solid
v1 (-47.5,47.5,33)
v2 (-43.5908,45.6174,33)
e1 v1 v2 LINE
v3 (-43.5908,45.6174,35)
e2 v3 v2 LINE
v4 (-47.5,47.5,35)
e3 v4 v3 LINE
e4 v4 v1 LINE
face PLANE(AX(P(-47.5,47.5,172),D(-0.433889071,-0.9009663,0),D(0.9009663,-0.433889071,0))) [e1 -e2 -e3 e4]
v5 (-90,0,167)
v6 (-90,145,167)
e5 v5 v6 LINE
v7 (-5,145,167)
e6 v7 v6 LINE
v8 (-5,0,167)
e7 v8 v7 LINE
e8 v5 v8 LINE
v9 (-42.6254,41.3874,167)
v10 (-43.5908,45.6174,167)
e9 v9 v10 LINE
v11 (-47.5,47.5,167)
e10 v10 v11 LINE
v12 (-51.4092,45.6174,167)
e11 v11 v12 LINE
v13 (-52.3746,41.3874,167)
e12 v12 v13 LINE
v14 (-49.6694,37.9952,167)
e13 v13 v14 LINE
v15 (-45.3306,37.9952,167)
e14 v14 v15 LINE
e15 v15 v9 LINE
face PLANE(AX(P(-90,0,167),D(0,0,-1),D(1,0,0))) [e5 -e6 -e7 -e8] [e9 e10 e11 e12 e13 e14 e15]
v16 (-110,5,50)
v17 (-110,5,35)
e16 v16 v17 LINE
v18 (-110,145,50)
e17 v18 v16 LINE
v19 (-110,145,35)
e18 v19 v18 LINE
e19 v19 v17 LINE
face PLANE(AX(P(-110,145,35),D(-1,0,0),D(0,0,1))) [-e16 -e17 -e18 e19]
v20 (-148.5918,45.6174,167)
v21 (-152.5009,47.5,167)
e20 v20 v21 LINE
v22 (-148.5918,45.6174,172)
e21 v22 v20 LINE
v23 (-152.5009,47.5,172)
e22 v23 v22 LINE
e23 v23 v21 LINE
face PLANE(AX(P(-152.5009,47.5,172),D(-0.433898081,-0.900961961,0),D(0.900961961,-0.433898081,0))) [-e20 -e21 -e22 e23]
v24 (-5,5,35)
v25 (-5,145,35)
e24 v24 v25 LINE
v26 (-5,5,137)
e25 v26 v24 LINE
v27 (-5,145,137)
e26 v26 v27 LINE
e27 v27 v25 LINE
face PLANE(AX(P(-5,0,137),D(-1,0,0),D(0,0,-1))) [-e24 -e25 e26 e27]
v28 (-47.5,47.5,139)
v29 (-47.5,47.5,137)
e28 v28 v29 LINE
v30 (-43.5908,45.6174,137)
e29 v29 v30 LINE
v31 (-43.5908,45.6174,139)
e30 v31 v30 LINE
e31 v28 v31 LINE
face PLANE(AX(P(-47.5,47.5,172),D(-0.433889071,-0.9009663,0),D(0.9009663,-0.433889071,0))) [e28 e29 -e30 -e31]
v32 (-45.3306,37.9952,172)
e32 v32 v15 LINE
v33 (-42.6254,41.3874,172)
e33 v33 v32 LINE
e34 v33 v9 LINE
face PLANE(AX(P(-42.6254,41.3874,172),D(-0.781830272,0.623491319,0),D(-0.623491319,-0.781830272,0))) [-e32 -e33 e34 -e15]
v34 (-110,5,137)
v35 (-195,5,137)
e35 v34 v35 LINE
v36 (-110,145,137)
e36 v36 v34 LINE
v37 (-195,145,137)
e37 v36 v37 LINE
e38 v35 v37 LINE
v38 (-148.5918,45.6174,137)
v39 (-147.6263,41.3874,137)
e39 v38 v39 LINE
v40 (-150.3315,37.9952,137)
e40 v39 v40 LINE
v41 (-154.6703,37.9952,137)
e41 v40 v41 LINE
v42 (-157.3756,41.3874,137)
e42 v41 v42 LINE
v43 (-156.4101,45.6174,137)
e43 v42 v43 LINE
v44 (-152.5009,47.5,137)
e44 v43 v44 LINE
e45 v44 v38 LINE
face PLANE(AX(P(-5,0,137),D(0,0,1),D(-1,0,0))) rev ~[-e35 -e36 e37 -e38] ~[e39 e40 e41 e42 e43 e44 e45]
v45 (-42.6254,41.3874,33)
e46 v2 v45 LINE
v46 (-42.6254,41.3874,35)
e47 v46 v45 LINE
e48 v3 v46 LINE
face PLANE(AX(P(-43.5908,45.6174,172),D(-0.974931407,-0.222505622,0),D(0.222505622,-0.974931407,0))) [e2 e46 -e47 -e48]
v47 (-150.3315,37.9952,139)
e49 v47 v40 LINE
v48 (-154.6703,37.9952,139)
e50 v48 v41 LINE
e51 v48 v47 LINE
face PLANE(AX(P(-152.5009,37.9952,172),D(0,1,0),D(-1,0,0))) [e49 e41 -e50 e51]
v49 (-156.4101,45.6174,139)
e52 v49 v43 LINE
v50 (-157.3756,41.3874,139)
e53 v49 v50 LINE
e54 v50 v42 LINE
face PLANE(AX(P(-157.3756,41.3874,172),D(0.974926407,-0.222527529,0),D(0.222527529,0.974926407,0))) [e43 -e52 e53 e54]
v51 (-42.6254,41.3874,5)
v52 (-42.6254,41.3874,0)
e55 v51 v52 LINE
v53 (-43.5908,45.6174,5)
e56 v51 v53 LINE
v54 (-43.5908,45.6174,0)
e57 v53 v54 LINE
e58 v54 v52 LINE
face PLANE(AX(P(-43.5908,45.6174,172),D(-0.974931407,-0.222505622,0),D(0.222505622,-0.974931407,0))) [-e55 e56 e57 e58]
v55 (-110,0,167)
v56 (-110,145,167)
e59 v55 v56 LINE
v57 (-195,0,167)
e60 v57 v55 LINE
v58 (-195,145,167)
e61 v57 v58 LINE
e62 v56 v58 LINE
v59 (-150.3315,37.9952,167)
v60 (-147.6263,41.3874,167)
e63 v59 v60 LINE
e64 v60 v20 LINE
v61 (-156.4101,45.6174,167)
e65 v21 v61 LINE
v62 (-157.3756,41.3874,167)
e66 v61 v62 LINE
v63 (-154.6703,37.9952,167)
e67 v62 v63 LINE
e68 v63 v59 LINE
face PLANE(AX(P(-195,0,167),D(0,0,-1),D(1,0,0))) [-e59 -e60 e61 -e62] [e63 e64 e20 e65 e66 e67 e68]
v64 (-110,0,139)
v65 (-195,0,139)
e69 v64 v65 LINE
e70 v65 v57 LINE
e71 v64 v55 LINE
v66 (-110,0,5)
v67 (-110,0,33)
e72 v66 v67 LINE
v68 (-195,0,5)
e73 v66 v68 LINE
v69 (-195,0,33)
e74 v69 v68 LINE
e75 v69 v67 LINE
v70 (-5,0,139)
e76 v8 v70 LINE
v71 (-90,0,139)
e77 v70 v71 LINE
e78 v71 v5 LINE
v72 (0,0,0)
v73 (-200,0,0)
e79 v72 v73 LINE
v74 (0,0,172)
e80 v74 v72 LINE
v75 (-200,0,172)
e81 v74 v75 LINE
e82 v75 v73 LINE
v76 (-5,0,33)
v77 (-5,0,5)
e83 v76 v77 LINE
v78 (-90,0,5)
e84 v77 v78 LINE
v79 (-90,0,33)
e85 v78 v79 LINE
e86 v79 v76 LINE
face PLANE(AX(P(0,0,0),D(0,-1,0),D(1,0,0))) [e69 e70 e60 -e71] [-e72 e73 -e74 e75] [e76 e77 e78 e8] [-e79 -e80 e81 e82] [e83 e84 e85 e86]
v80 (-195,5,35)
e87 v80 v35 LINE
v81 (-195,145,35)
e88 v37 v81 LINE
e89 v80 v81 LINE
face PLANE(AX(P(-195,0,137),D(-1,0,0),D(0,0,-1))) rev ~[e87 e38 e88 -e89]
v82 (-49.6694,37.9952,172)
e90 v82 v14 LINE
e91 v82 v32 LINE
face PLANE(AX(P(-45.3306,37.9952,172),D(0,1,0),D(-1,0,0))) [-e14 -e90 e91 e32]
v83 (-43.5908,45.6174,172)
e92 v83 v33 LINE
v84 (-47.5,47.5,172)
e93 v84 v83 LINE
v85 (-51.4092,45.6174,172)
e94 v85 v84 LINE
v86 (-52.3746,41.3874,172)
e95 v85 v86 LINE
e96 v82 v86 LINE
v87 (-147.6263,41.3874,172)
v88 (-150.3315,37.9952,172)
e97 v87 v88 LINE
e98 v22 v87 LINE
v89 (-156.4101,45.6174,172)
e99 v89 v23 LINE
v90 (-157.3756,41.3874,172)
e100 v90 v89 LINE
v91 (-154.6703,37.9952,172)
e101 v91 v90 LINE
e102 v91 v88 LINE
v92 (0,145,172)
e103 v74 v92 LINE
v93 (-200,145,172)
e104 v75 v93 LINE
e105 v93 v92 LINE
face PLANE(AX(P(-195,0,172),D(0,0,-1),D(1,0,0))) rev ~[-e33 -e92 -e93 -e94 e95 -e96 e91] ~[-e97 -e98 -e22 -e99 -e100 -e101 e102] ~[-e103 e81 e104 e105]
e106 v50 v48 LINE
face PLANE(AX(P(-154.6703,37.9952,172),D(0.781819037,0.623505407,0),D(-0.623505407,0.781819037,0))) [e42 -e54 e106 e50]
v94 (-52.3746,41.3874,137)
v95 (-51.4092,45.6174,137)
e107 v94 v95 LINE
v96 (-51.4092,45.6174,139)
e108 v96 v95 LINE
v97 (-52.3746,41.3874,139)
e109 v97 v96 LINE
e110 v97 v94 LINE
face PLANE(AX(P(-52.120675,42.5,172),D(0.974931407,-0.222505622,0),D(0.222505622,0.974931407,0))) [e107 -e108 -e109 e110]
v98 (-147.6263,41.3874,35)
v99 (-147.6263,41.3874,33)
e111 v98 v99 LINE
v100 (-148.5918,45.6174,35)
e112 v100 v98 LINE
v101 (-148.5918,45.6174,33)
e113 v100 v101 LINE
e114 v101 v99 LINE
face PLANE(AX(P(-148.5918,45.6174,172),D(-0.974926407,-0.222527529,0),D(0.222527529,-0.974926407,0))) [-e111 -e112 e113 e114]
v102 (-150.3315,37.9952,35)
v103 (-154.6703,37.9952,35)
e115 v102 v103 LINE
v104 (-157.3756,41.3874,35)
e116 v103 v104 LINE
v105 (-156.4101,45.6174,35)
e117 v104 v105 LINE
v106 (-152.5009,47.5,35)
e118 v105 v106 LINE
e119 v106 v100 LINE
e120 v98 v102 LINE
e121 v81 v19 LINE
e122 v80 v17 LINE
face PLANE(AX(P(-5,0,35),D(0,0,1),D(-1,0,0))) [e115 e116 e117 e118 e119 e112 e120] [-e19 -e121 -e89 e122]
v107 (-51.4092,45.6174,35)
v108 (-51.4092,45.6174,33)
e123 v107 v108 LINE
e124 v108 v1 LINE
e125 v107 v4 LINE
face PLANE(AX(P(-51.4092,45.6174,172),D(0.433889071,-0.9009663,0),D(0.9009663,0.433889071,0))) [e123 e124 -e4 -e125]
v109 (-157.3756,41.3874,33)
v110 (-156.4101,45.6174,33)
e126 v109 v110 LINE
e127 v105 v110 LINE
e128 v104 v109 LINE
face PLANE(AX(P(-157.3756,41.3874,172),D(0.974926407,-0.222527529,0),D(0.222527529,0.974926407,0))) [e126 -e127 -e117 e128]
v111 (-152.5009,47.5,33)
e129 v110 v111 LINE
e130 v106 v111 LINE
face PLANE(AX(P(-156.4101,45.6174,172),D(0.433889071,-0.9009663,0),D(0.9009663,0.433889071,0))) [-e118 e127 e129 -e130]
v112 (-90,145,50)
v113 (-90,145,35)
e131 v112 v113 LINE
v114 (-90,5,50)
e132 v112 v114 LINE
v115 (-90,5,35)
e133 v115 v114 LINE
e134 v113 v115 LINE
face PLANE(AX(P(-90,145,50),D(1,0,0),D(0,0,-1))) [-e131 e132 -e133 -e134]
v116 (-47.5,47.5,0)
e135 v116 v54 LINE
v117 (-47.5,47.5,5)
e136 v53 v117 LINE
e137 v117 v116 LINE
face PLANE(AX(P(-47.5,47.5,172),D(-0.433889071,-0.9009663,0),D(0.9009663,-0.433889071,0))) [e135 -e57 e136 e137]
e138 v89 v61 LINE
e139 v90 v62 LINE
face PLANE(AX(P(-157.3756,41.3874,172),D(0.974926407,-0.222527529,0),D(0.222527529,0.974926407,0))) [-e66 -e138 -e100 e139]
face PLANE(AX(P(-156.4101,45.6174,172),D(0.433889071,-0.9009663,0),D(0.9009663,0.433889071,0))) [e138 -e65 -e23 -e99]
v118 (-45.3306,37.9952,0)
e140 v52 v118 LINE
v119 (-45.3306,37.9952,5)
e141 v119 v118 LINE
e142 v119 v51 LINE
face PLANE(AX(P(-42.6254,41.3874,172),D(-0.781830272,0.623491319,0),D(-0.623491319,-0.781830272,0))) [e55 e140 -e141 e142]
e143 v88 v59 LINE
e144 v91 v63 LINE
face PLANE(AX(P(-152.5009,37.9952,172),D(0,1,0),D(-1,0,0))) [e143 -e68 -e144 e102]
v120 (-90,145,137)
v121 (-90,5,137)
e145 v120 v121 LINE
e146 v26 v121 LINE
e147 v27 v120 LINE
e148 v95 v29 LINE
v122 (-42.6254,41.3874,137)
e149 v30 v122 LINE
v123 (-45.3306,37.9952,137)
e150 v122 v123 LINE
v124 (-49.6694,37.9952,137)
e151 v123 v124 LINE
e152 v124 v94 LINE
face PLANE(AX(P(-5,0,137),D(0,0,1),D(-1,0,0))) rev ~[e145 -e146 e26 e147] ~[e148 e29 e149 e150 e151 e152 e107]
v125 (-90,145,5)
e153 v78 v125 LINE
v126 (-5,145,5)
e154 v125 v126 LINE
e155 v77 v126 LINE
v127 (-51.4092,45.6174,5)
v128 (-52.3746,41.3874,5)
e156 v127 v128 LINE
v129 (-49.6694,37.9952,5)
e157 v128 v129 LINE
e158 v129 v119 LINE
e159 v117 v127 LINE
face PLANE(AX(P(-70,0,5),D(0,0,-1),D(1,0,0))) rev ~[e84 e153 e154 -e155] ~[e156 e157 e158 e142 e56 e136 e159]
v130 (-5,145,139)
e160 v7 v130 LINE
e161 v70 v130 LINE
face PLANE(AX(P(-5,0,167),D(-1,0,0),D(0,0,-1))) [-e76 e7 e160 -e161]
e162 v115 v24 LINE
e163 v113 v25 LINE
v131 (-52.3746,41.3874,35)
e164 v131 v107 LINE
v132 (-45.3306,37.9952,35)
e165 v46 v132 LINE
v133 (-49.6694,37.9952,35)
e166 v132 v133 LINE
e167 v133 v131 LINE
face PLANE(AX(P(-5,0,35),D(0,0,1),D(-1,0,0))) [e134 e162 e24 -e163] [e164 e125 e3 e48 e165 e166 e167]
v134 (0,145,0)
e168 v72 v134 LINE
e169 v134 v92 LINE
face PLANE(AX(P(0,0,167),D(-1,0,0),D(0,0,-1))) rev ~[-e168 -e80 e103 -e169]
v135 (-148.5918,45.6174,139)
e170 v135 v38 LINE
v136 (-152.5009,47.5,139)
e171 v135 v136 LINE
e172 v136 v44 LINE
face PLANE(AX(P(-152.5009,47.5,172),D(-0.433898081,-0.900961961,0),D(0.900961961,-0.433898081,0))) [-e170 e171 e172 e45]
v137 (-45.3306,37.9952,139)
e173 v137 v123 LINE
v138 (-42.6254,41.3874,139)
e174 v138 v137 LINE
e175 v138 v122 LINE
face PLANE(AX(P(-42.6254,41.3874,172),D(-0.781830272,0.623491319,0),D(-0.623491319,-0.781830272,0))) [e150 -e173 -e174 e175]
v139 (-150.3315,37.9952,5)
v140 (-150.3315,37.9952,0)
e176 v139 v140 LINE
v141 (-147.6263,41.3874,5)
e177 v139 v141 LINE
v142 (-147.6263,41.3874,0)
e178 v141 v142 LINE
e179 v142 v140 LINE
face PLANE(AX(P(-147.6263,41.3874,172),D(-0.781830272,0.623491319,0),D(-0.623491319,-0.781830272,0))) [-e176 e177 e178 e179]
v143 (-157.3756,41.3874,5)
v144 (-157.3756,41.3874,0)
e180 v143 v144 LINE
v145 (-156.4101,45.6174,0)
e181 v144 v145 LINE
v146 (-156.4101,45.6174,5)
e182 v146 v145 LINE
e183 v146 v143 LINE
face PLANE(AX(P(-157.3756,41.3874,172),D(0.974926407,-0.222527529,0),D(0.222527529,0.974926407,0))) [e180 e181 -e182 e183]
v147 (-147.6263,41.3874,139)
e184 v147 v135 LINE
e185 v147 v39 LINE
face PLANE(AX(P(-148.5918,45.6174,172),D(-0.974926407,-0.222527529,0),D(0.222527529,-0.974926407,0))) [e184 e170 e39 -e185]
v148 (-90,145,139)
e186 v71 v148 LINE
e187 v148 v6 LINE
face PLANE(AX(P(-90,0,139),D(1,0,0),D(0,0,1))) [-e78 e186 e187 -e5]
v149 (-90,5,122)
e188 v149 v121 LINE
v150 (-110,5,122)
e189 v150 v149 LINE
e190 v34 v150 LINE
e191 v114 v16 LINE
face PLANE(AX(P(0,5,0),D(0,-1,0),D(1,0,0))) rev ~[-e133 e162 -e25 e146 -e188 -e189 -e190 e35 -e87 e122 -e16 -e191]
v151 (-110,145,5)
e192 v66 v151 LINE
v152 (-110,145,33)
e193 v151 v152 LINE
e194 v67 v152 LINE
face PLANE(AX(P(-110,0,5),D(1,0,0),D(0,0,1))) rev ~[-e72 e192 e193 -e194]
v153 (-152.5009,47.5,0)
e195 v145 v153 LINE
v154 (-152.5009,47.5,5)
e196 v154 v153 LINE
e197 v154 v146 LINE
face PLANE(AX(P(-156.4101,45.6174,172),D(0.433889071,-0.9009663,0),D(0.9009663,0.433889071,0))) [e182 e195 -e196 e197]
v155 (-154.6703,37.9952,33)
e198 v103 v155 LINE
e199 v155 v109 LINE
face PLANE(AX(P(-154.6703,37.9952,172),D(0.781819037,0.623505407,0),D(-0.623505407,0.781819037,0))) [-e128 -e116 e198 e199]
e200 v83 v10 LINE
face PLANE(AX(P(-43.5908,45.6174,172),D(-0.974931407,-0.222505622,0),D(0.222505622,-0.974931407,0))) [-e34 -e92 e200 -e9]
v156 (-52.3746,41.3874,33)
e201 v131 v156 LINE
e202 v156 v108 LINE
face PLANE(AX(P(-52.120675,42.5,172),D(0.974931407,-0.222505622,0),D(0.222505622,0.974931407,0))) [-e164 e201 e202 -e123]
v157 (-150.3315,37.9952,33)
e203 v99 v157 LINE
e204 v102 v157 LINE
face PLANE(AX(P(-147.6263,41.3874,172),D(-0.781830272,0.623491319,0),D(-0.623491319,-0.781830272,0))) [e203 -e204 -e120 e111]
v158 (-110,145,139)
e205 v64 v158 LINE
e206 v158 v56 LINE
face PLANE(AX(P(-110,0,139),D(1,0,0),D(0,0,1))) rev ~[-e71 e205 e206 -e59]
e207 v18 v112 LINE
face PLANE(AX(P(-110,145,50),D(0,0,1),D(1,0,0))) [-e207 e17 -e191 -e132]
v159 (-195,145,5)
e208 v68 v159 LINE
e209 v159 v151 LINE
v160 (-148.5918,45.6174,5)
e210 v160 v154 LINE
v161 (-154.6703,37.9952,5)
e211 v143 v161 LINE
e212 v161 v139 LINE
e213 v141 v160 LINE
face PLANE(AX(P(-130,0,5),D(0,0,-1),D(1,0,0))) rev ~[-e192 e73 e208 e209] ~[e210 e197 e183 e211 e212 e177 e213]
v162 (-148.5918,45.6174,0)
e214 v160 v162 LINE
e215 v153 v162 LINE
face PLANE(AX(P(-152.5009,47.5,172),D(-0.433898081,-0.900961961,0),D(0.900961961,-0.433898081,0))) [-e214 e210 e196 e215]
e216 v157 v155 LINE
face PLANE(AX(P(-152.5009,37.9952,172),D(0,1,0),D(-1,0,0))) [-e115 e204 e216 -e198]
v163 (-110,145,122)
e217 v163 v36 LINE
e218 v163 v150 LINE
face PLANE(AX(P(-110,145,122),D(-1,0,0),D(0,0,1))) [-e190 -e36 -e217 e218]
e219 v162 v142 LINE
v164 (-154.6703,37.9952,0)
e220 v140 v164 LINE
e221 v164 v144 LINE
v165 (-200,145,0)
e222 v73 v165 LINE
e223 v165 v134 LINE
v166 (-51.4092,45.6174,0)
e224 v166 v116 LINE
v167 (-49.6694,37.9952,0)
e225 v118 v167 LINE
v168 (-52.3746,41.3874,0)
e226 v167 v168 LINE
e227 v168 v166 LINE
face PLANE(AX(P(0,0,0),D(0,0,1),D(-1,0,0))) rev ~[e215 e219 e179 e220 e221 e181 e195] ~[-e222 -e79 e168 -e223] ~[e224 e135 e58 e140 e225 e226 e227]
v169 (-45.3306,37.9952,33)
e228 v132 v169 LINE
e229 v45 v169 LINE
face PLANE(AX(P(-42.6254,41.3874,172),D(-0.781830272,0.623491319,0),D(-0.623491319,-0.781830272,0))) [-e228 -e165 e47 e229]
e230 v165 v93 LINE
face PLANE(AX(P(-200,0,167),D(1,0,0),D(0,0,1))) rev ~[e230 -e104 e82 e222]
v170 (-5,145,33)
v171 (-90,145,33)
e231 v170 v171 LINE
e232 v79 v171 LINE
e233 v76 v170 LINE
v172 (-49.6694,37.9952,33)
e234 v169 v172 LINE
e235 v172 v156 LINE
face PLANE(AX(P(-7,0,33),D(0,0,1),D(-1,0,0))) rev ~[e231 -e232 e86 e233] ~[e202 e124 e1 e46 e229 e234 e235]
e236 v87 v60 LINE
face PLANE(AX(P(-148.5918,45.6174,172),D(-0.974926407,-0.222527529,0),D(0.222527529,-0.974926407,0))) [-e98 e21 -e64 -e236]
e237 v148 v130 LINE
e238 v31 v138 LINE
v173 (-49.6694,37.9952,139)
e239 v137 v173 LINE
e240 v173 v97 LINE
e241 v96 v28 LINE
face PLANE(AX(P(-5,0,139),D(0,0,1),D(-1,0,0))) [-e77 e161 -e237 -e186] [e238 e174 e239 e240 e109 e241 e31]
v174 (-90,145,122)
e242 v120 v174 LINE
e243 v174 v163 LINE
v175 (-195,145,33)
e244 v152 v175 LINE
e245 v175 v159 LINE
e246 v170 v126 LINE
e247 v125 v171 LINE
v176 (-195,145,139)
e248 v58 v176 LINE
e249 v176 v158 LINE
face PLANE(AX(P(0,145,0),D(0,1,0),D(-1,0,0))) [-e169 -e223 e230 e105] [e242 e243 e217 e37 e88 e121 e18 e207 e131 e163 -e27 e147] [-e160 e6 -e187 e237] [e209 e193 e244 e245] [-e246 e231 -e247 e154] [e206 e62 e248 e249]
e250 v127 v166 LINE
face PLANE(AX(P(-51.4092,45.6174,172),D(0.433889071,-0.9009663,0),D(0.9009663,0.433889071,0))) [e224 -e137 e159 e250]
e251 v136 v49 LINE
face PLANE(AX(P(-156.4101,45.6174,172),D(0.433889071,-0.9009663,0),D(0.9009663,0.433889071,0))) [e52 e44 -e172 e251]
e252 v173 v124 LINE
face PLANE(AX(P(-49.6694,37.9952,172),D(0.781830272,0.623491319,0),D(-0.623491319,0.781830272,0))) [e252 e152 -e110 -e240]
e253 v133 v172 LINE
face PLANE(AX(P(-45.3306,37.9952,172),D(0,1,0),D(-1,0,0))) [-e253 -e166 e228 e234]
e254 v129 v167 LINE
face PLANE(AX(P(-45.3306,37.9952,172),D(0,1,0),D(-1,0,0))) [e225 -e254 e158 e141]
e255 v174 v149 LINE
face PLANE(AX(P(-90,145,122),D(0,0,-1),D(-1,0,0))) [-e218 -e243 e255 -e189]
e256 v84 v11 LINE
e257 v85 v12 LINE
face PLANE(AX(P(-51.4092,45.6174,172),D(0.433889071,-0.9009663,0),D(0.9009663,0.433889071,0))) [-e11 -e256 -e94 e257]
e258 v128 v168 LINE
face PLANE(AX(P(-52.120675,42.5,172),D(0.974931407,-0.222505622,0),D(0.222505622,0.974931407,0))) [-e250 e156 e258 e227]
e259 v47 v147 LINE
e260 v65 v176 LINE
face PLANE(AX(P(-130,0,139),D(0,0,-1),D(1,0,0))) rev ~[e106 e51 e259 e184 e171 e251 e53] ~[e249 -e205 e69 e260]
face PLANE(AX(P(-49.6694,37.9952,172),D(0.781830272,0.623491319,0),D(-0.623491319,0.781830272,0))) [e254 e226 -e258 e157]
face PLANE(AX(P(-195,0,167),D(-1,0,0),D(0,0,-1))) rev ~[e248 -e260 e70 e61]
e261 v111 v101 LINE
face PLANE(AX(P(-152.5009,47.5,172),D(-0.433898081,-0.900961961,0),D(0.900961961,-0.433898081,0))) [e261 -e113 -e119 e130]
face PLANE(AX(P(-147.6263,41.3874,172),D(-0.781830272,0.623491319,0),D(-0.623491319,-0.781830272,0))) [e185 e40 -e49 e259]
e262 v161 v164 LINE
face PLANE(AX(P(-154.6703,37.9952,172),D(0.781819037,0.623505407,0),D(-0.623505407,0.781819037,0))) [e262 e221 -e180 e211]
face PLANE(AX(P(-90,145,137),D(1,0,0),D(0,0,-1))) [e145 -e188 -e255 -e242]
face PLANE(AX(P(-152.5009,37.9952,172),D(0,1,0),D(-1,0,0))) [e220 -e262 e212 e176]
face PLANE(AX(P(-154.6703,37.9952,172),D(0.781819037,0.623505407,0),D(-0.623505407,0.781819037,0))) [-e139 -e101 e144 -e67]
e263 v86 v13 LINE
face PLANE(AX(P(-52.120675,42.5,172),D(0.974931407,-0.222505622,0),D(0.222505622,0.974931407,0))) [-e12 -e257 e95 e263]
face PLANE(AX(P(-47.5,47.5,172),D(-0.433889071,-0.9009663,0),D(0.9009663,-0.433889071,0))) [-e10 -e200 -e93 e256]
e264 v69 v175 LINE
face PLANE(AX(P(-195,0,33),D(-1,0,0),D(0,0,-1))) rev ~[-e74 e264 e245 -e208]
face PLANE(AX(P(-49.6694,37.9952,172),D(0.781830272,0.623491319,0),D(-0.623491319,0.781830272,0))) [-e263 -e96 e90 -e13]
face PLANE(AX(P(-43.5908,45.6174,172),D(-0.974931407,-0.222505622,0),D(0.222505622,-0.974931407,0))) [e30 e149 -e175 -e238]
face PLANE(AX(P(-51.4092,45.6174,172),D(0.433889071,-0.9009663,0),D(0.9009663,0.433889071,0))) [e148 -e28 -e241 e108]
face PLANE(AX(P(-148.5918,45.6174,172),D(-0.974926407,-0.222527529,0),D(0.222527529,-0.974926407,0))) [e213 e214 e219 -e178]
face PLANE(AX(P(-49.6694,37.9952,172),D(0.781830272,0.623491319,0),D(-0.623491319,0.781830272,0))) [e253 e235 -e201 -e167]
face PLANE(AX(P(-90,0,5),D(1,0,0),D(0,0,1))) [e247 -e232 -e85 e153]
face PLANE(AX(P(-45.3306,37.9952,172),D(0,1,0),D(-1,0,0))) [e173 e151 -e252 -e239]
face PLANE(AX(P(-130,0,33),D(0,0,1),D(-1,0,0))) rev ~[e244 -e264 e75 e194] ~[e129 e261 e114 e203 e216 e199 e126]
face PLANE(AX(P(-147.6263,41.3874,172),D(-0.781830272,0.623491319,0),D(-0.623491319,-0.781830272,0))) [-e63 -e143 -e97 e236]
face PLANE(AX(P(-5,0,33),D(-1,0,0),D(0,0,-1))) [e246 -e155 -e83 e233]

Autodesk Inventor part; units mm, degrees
ref_plane "YZ Plane" through (0, 0, 0) normal (1, 0, 0) x (0, 1, 0)
ref_plane "XZ Plane" through (0, 0, 0) normal (0, 1, 0) x (-1, 0, 0)
ref_plane "XY Plane" through (0, 0, 0) normal (0, 0, 1) x (1, 0, 0)
sketch "Sketch1" plane through (0, 0, 0) normal (0, 1, 0) x (-1, 0, 0)
  line L0 (0, 0) -> (200, 0)
  line L1 (200, 0) -> (200, 172)
  line L2 (200, 172) -> (0, 172)
  line L3 (0, 172) -> (0, 0)
  line L4 (0, 172) -> (200, 172)
  line L5 (200, 172) -> (200, -28)
  line L6 (200, -28) -> (0, -28)
  line L7 (0, -28) -> (0, 172)
  line L8 (200, 172) -> (195, 172)
  line L9 (195, 172) -> (195, 167)
  line L10 (195, 167) -> (200, 167)
  line L11 (195, 172) -> (195, 144)
  line L12 (195, 167) -> (130, 167)
  line L13 (130, 167) -> (130, 144)
  line L14 (130, 144) -> (195, 144)
  line L15 (195, 144) -> (195, 0)
  line L16 (195, 0) -> (195, 5)
  line L17 (195, 5) -> (130, 5)
  line L18 (130, 5) -> (130, 33)
  line L19 (130, 33) -> (195, 33)
  line L20 (0, 167) -> (5, 167)
  line L21 (5, 167) -> (5, 139)
  line L22 (130, 167) -> (130, 139)
  line L23 (130, 139) -> (195, 139)
  line L24 (5, 139) -> (70, 139)
  line L25 (70, 139) -> (70, 167)
  line L26 (70, 167) -> (5, 167)
  line L27 (5, 139) -> (5, 0)
  line L28 (5, 33) -> (70, 33)
  line L29 (70, 33) -> (70, 5)
  line L30 (70, 5) -> (5, 5)
  line L31 (130, 139) -> (70, 139)
  line L32 (130, 33) -> (70, 33)
  line L33 (130, 167) -> (70, 167)
  line L34 (130, 5) -> (70, 5)
  line L35 (37.5, 33) -> (37.5, 139)
  line L36 (162.5, 33) -> (162.5, 139)
  line L37 (5, 33) -> (7, 33)
  line L38 (5, 33) -> (5, 35)
  line L39 (5, 35) -> (195, 35)
  line L40 (195, 139) -> (197, 139)
  line L41 (5, 139) -> (5, 137)
  line L42 (5, 137) -> (195, 137)
  line L43 (100, 5) -> (90, 5)
  line L44 (90, 5) -> (110, 5)
  line L45 (110, 5) -> (110, 33)
  line L46 (90, 5) -> (90, 33)
  line L47 (90, 139) -> (90, 167)
  line L48 (110, 137) -> (110, 167)
  point P0 (110, 139)
  dimension "d0" = 200
  dimension "d1" = 172
  dimension "d2" = 200
  dimension "d3" = 200
  dimension "d4" = 5
  dimension "d5" = 5
  dimension "d6" = 28
  dimension "d7" = 65
  dimension "d8" = 5
  dimension "d9" = 28
  dimension "d10" = 5
  dimension "d11" = 28
  dimension "d12" = 28
  dimension "d13" = 65
  dimension "d14" = 2
  dimension "d15" = 2
  dimension "d16" = 2
  dimension "d17" = 2
  dimension "d18" = 10
  dimension "d19" = 20
extrude "Extrusion1" add sketch "Sketch1" along normal blind 145 contours L3 L20 L21 L27 L0 | L27 L30 L34 L17 L15 L0 | L3 L2 L9 L12 L33 L26 L20 | L15 L11 L10 L1 L0 | L27 L39 L35 L28 | L2 L1 L10 L9 | L24 L35 L42 L27 | L19 L36 L39 L15 | L28 L35 L39 L36 L19 L32 | L46 L32 L45 L34 | L24 L31 L48 L42 L35 | L33 L48 L31 L47 | L42 L36 L23 L15 | L48 L31 L23 L36 L42
sketch "Sketch2" plane through (0, 0, 0) normal (0, -1, 0) x (1, 0, 0)
  line L0 (-5, 137) -> (-195, 137) projected
  line L1 (-195, 35) -> (-5, 35) projected
  line L2 (-195, 137) -> (-5, 137)
  line L3 (-5, 137) -> (-5, 35)
  line L4 (-5, 35) -> (-195, 35)
  line L5 (-195, 35) -> (-195, 137)
  point P0 (0, 0)
extrude "Extrusion2" add sketch "Sketch2" against normal blind 5
sketch "Sketch3" plane through (-195, 0, 139) normal (0, 0, 1) x (1, 0, 0)
  point P0 (195, 0)
sketch "Sketch4" plane through (0, 5, 0) normal (0, 1, 0) x (1, 0, 0)
  line L0 (-90, -33) -> (-90, -5) projected
  line L1 (-5, -33) -> (-90, -33) projected
  line L2 (-90, -33) -> (-5, -33)
  line L3 (-5, -33) -> (-47.5, -33)
  line L4 (-47.5, -33) -> (-47.5, -172)
  line L5 (-200, -172) -> (0, -172) projected
  line L6 (-109.747, -33) -> (-194.7552, -33)
  line L7 (-194.7552, -33) -> (-109.747, -33)
  line L8 (-110, -5) -> (-110, -33) projected
  line L9 (-195, -5) -> (-110, -5) projected
  line L10 (-110, -5) -> (-195, -5)
  line L11 (-195, -5) -> (-152.5, -5)
  line L12 (-152.5, -5) -> (-152.5, -172)
  line L13 (-110, -167) -> (-195, -167) projected
  point P0 (0, 0)
sketch "Sketch5" plane through (-200, 0, 172) normal (0, 0, 1) x (1, 0, 0)
  line L0 (5, 144.4425) -> (89.9982, 145)
  line L1 (0, 145) -> (200, 145) projected
  line L2 (5, 144.4425) -> (47.1963, 145)
  line L3 (47.4991, 144.7212) -> (47.4991, 0)
  line L4 (0, 0) -> (200, 0) projected
  line L5 (200, 145) -> (195, 145)
  line L6 (195, 145) -> (110, 145)
  line L7 (110, 145) -> (152.5, 145)
  line L8 (152.5, 145) -> (152.5, 0)
  line L9 (195, 5) -> (5, 5) projected
  line L10 (152.5, 5) -> (152.5, 42.5)
  line L11 (152.5, 42.5) -> (47.4991, 42.5)
  circle A0 centre (47.4991, 42.5) radius 5
  circle A1 centre (152.5, 42.5) radius 5
  line L12 (47.4991, 47.5) -> (51.4082, 45.6174)
  line L13 (51.4082, 45.6174) -> (52.3737, 41.3874)
  line L14 (52.3737, 41.3874) -> (49.6685, 37.9952)
  line L15 (49.6685, 37.9952) -> (45.3297, 37.9952)
  line L16 (45.3297, 37.9952) -> (42.6244, 41.3874)
  line L17 (42.6244, 41.3874) -> (43.5899, 45.6174)
  line L18 (43.5899, 45.6174) -> (47.4991, 47.5)
  line L19 (152.5, 47.5) -> (156.4092, 45.6174)
  line L20 (156.4092, 45.6174) -> (157.3746, 41.3874)
  line L21 (157.3746, 41.3874) -> (154.6694, 37.9952)
  line L22 (154.6694, 37.9952) -> (150.3306, 37.9952)
  line L23 (150.3306, 37.9952) -> (147.6254, 41.3874)
  line L24 (147.6254, 41.3874) -> (148.5908, 45.6174)
  line L25 (148.5908, 45.6174) -> (152.5, 47.5)
  dimension "d29" = 10
  dimension "d30" = 10
  dimension "d24" = 85
  dimension "d25" = 42.2
  dimension "d26" = 5
  dimension "d27" = 85
  dimension "d28" = 37.5
extrude "Extrusion3" cut sketch "Sketch5" against normal blind 376.75 contours L12 L13 L11 L3 | L3 L15 L16 L17 L18 | L11 L13 L14 L15 L3 | L19 L20 L21 L22 L8 | L8 L11 L24 L25 | L8 L22 L23 L24 L11
sketch "Sketch6" plane through (0, 145, 0) normal (0, 1, 0) x (1, 0, 0)
  line L0 (-110, -5) -> (-110, -33) projected
  line L1 (-110, -5) -> (-110, -162.1983)
  line L2 (-110, -162.1983) -> (-90, -162.1983)
  line L3 (-90, -167) -> (-90, -139) projected
  line L4 (-90, -162.1983) -> (-90, -32.5425)
  line L5 (-90, -32.5425) -> (-110, -32.5425)
  line L6 (-195, -35) -> (-5, -35) projected
  line L7 (-110, -35) -> (-110, -50)
  line L8 (-110, -50) -> (-90, -50)
  line L9 (-90, -50) -> (-90, -35)
  line L10 (-5, -137) -> (-195, -137) projected
  line L11 (-90, -137) -> (-90, -122)
  line L12 (-90, -122) -> (-110, -122)
  point P0 (0, 0)
  point P1 (-110, -137)
  dimension "d33" = 15
  dimension "d34" = 15
extrude "Extrusion4" add sketch "Sketch6" against normal blind 144.75 contours L6 L4 L8 L1 | L12 L4 L10 L1
